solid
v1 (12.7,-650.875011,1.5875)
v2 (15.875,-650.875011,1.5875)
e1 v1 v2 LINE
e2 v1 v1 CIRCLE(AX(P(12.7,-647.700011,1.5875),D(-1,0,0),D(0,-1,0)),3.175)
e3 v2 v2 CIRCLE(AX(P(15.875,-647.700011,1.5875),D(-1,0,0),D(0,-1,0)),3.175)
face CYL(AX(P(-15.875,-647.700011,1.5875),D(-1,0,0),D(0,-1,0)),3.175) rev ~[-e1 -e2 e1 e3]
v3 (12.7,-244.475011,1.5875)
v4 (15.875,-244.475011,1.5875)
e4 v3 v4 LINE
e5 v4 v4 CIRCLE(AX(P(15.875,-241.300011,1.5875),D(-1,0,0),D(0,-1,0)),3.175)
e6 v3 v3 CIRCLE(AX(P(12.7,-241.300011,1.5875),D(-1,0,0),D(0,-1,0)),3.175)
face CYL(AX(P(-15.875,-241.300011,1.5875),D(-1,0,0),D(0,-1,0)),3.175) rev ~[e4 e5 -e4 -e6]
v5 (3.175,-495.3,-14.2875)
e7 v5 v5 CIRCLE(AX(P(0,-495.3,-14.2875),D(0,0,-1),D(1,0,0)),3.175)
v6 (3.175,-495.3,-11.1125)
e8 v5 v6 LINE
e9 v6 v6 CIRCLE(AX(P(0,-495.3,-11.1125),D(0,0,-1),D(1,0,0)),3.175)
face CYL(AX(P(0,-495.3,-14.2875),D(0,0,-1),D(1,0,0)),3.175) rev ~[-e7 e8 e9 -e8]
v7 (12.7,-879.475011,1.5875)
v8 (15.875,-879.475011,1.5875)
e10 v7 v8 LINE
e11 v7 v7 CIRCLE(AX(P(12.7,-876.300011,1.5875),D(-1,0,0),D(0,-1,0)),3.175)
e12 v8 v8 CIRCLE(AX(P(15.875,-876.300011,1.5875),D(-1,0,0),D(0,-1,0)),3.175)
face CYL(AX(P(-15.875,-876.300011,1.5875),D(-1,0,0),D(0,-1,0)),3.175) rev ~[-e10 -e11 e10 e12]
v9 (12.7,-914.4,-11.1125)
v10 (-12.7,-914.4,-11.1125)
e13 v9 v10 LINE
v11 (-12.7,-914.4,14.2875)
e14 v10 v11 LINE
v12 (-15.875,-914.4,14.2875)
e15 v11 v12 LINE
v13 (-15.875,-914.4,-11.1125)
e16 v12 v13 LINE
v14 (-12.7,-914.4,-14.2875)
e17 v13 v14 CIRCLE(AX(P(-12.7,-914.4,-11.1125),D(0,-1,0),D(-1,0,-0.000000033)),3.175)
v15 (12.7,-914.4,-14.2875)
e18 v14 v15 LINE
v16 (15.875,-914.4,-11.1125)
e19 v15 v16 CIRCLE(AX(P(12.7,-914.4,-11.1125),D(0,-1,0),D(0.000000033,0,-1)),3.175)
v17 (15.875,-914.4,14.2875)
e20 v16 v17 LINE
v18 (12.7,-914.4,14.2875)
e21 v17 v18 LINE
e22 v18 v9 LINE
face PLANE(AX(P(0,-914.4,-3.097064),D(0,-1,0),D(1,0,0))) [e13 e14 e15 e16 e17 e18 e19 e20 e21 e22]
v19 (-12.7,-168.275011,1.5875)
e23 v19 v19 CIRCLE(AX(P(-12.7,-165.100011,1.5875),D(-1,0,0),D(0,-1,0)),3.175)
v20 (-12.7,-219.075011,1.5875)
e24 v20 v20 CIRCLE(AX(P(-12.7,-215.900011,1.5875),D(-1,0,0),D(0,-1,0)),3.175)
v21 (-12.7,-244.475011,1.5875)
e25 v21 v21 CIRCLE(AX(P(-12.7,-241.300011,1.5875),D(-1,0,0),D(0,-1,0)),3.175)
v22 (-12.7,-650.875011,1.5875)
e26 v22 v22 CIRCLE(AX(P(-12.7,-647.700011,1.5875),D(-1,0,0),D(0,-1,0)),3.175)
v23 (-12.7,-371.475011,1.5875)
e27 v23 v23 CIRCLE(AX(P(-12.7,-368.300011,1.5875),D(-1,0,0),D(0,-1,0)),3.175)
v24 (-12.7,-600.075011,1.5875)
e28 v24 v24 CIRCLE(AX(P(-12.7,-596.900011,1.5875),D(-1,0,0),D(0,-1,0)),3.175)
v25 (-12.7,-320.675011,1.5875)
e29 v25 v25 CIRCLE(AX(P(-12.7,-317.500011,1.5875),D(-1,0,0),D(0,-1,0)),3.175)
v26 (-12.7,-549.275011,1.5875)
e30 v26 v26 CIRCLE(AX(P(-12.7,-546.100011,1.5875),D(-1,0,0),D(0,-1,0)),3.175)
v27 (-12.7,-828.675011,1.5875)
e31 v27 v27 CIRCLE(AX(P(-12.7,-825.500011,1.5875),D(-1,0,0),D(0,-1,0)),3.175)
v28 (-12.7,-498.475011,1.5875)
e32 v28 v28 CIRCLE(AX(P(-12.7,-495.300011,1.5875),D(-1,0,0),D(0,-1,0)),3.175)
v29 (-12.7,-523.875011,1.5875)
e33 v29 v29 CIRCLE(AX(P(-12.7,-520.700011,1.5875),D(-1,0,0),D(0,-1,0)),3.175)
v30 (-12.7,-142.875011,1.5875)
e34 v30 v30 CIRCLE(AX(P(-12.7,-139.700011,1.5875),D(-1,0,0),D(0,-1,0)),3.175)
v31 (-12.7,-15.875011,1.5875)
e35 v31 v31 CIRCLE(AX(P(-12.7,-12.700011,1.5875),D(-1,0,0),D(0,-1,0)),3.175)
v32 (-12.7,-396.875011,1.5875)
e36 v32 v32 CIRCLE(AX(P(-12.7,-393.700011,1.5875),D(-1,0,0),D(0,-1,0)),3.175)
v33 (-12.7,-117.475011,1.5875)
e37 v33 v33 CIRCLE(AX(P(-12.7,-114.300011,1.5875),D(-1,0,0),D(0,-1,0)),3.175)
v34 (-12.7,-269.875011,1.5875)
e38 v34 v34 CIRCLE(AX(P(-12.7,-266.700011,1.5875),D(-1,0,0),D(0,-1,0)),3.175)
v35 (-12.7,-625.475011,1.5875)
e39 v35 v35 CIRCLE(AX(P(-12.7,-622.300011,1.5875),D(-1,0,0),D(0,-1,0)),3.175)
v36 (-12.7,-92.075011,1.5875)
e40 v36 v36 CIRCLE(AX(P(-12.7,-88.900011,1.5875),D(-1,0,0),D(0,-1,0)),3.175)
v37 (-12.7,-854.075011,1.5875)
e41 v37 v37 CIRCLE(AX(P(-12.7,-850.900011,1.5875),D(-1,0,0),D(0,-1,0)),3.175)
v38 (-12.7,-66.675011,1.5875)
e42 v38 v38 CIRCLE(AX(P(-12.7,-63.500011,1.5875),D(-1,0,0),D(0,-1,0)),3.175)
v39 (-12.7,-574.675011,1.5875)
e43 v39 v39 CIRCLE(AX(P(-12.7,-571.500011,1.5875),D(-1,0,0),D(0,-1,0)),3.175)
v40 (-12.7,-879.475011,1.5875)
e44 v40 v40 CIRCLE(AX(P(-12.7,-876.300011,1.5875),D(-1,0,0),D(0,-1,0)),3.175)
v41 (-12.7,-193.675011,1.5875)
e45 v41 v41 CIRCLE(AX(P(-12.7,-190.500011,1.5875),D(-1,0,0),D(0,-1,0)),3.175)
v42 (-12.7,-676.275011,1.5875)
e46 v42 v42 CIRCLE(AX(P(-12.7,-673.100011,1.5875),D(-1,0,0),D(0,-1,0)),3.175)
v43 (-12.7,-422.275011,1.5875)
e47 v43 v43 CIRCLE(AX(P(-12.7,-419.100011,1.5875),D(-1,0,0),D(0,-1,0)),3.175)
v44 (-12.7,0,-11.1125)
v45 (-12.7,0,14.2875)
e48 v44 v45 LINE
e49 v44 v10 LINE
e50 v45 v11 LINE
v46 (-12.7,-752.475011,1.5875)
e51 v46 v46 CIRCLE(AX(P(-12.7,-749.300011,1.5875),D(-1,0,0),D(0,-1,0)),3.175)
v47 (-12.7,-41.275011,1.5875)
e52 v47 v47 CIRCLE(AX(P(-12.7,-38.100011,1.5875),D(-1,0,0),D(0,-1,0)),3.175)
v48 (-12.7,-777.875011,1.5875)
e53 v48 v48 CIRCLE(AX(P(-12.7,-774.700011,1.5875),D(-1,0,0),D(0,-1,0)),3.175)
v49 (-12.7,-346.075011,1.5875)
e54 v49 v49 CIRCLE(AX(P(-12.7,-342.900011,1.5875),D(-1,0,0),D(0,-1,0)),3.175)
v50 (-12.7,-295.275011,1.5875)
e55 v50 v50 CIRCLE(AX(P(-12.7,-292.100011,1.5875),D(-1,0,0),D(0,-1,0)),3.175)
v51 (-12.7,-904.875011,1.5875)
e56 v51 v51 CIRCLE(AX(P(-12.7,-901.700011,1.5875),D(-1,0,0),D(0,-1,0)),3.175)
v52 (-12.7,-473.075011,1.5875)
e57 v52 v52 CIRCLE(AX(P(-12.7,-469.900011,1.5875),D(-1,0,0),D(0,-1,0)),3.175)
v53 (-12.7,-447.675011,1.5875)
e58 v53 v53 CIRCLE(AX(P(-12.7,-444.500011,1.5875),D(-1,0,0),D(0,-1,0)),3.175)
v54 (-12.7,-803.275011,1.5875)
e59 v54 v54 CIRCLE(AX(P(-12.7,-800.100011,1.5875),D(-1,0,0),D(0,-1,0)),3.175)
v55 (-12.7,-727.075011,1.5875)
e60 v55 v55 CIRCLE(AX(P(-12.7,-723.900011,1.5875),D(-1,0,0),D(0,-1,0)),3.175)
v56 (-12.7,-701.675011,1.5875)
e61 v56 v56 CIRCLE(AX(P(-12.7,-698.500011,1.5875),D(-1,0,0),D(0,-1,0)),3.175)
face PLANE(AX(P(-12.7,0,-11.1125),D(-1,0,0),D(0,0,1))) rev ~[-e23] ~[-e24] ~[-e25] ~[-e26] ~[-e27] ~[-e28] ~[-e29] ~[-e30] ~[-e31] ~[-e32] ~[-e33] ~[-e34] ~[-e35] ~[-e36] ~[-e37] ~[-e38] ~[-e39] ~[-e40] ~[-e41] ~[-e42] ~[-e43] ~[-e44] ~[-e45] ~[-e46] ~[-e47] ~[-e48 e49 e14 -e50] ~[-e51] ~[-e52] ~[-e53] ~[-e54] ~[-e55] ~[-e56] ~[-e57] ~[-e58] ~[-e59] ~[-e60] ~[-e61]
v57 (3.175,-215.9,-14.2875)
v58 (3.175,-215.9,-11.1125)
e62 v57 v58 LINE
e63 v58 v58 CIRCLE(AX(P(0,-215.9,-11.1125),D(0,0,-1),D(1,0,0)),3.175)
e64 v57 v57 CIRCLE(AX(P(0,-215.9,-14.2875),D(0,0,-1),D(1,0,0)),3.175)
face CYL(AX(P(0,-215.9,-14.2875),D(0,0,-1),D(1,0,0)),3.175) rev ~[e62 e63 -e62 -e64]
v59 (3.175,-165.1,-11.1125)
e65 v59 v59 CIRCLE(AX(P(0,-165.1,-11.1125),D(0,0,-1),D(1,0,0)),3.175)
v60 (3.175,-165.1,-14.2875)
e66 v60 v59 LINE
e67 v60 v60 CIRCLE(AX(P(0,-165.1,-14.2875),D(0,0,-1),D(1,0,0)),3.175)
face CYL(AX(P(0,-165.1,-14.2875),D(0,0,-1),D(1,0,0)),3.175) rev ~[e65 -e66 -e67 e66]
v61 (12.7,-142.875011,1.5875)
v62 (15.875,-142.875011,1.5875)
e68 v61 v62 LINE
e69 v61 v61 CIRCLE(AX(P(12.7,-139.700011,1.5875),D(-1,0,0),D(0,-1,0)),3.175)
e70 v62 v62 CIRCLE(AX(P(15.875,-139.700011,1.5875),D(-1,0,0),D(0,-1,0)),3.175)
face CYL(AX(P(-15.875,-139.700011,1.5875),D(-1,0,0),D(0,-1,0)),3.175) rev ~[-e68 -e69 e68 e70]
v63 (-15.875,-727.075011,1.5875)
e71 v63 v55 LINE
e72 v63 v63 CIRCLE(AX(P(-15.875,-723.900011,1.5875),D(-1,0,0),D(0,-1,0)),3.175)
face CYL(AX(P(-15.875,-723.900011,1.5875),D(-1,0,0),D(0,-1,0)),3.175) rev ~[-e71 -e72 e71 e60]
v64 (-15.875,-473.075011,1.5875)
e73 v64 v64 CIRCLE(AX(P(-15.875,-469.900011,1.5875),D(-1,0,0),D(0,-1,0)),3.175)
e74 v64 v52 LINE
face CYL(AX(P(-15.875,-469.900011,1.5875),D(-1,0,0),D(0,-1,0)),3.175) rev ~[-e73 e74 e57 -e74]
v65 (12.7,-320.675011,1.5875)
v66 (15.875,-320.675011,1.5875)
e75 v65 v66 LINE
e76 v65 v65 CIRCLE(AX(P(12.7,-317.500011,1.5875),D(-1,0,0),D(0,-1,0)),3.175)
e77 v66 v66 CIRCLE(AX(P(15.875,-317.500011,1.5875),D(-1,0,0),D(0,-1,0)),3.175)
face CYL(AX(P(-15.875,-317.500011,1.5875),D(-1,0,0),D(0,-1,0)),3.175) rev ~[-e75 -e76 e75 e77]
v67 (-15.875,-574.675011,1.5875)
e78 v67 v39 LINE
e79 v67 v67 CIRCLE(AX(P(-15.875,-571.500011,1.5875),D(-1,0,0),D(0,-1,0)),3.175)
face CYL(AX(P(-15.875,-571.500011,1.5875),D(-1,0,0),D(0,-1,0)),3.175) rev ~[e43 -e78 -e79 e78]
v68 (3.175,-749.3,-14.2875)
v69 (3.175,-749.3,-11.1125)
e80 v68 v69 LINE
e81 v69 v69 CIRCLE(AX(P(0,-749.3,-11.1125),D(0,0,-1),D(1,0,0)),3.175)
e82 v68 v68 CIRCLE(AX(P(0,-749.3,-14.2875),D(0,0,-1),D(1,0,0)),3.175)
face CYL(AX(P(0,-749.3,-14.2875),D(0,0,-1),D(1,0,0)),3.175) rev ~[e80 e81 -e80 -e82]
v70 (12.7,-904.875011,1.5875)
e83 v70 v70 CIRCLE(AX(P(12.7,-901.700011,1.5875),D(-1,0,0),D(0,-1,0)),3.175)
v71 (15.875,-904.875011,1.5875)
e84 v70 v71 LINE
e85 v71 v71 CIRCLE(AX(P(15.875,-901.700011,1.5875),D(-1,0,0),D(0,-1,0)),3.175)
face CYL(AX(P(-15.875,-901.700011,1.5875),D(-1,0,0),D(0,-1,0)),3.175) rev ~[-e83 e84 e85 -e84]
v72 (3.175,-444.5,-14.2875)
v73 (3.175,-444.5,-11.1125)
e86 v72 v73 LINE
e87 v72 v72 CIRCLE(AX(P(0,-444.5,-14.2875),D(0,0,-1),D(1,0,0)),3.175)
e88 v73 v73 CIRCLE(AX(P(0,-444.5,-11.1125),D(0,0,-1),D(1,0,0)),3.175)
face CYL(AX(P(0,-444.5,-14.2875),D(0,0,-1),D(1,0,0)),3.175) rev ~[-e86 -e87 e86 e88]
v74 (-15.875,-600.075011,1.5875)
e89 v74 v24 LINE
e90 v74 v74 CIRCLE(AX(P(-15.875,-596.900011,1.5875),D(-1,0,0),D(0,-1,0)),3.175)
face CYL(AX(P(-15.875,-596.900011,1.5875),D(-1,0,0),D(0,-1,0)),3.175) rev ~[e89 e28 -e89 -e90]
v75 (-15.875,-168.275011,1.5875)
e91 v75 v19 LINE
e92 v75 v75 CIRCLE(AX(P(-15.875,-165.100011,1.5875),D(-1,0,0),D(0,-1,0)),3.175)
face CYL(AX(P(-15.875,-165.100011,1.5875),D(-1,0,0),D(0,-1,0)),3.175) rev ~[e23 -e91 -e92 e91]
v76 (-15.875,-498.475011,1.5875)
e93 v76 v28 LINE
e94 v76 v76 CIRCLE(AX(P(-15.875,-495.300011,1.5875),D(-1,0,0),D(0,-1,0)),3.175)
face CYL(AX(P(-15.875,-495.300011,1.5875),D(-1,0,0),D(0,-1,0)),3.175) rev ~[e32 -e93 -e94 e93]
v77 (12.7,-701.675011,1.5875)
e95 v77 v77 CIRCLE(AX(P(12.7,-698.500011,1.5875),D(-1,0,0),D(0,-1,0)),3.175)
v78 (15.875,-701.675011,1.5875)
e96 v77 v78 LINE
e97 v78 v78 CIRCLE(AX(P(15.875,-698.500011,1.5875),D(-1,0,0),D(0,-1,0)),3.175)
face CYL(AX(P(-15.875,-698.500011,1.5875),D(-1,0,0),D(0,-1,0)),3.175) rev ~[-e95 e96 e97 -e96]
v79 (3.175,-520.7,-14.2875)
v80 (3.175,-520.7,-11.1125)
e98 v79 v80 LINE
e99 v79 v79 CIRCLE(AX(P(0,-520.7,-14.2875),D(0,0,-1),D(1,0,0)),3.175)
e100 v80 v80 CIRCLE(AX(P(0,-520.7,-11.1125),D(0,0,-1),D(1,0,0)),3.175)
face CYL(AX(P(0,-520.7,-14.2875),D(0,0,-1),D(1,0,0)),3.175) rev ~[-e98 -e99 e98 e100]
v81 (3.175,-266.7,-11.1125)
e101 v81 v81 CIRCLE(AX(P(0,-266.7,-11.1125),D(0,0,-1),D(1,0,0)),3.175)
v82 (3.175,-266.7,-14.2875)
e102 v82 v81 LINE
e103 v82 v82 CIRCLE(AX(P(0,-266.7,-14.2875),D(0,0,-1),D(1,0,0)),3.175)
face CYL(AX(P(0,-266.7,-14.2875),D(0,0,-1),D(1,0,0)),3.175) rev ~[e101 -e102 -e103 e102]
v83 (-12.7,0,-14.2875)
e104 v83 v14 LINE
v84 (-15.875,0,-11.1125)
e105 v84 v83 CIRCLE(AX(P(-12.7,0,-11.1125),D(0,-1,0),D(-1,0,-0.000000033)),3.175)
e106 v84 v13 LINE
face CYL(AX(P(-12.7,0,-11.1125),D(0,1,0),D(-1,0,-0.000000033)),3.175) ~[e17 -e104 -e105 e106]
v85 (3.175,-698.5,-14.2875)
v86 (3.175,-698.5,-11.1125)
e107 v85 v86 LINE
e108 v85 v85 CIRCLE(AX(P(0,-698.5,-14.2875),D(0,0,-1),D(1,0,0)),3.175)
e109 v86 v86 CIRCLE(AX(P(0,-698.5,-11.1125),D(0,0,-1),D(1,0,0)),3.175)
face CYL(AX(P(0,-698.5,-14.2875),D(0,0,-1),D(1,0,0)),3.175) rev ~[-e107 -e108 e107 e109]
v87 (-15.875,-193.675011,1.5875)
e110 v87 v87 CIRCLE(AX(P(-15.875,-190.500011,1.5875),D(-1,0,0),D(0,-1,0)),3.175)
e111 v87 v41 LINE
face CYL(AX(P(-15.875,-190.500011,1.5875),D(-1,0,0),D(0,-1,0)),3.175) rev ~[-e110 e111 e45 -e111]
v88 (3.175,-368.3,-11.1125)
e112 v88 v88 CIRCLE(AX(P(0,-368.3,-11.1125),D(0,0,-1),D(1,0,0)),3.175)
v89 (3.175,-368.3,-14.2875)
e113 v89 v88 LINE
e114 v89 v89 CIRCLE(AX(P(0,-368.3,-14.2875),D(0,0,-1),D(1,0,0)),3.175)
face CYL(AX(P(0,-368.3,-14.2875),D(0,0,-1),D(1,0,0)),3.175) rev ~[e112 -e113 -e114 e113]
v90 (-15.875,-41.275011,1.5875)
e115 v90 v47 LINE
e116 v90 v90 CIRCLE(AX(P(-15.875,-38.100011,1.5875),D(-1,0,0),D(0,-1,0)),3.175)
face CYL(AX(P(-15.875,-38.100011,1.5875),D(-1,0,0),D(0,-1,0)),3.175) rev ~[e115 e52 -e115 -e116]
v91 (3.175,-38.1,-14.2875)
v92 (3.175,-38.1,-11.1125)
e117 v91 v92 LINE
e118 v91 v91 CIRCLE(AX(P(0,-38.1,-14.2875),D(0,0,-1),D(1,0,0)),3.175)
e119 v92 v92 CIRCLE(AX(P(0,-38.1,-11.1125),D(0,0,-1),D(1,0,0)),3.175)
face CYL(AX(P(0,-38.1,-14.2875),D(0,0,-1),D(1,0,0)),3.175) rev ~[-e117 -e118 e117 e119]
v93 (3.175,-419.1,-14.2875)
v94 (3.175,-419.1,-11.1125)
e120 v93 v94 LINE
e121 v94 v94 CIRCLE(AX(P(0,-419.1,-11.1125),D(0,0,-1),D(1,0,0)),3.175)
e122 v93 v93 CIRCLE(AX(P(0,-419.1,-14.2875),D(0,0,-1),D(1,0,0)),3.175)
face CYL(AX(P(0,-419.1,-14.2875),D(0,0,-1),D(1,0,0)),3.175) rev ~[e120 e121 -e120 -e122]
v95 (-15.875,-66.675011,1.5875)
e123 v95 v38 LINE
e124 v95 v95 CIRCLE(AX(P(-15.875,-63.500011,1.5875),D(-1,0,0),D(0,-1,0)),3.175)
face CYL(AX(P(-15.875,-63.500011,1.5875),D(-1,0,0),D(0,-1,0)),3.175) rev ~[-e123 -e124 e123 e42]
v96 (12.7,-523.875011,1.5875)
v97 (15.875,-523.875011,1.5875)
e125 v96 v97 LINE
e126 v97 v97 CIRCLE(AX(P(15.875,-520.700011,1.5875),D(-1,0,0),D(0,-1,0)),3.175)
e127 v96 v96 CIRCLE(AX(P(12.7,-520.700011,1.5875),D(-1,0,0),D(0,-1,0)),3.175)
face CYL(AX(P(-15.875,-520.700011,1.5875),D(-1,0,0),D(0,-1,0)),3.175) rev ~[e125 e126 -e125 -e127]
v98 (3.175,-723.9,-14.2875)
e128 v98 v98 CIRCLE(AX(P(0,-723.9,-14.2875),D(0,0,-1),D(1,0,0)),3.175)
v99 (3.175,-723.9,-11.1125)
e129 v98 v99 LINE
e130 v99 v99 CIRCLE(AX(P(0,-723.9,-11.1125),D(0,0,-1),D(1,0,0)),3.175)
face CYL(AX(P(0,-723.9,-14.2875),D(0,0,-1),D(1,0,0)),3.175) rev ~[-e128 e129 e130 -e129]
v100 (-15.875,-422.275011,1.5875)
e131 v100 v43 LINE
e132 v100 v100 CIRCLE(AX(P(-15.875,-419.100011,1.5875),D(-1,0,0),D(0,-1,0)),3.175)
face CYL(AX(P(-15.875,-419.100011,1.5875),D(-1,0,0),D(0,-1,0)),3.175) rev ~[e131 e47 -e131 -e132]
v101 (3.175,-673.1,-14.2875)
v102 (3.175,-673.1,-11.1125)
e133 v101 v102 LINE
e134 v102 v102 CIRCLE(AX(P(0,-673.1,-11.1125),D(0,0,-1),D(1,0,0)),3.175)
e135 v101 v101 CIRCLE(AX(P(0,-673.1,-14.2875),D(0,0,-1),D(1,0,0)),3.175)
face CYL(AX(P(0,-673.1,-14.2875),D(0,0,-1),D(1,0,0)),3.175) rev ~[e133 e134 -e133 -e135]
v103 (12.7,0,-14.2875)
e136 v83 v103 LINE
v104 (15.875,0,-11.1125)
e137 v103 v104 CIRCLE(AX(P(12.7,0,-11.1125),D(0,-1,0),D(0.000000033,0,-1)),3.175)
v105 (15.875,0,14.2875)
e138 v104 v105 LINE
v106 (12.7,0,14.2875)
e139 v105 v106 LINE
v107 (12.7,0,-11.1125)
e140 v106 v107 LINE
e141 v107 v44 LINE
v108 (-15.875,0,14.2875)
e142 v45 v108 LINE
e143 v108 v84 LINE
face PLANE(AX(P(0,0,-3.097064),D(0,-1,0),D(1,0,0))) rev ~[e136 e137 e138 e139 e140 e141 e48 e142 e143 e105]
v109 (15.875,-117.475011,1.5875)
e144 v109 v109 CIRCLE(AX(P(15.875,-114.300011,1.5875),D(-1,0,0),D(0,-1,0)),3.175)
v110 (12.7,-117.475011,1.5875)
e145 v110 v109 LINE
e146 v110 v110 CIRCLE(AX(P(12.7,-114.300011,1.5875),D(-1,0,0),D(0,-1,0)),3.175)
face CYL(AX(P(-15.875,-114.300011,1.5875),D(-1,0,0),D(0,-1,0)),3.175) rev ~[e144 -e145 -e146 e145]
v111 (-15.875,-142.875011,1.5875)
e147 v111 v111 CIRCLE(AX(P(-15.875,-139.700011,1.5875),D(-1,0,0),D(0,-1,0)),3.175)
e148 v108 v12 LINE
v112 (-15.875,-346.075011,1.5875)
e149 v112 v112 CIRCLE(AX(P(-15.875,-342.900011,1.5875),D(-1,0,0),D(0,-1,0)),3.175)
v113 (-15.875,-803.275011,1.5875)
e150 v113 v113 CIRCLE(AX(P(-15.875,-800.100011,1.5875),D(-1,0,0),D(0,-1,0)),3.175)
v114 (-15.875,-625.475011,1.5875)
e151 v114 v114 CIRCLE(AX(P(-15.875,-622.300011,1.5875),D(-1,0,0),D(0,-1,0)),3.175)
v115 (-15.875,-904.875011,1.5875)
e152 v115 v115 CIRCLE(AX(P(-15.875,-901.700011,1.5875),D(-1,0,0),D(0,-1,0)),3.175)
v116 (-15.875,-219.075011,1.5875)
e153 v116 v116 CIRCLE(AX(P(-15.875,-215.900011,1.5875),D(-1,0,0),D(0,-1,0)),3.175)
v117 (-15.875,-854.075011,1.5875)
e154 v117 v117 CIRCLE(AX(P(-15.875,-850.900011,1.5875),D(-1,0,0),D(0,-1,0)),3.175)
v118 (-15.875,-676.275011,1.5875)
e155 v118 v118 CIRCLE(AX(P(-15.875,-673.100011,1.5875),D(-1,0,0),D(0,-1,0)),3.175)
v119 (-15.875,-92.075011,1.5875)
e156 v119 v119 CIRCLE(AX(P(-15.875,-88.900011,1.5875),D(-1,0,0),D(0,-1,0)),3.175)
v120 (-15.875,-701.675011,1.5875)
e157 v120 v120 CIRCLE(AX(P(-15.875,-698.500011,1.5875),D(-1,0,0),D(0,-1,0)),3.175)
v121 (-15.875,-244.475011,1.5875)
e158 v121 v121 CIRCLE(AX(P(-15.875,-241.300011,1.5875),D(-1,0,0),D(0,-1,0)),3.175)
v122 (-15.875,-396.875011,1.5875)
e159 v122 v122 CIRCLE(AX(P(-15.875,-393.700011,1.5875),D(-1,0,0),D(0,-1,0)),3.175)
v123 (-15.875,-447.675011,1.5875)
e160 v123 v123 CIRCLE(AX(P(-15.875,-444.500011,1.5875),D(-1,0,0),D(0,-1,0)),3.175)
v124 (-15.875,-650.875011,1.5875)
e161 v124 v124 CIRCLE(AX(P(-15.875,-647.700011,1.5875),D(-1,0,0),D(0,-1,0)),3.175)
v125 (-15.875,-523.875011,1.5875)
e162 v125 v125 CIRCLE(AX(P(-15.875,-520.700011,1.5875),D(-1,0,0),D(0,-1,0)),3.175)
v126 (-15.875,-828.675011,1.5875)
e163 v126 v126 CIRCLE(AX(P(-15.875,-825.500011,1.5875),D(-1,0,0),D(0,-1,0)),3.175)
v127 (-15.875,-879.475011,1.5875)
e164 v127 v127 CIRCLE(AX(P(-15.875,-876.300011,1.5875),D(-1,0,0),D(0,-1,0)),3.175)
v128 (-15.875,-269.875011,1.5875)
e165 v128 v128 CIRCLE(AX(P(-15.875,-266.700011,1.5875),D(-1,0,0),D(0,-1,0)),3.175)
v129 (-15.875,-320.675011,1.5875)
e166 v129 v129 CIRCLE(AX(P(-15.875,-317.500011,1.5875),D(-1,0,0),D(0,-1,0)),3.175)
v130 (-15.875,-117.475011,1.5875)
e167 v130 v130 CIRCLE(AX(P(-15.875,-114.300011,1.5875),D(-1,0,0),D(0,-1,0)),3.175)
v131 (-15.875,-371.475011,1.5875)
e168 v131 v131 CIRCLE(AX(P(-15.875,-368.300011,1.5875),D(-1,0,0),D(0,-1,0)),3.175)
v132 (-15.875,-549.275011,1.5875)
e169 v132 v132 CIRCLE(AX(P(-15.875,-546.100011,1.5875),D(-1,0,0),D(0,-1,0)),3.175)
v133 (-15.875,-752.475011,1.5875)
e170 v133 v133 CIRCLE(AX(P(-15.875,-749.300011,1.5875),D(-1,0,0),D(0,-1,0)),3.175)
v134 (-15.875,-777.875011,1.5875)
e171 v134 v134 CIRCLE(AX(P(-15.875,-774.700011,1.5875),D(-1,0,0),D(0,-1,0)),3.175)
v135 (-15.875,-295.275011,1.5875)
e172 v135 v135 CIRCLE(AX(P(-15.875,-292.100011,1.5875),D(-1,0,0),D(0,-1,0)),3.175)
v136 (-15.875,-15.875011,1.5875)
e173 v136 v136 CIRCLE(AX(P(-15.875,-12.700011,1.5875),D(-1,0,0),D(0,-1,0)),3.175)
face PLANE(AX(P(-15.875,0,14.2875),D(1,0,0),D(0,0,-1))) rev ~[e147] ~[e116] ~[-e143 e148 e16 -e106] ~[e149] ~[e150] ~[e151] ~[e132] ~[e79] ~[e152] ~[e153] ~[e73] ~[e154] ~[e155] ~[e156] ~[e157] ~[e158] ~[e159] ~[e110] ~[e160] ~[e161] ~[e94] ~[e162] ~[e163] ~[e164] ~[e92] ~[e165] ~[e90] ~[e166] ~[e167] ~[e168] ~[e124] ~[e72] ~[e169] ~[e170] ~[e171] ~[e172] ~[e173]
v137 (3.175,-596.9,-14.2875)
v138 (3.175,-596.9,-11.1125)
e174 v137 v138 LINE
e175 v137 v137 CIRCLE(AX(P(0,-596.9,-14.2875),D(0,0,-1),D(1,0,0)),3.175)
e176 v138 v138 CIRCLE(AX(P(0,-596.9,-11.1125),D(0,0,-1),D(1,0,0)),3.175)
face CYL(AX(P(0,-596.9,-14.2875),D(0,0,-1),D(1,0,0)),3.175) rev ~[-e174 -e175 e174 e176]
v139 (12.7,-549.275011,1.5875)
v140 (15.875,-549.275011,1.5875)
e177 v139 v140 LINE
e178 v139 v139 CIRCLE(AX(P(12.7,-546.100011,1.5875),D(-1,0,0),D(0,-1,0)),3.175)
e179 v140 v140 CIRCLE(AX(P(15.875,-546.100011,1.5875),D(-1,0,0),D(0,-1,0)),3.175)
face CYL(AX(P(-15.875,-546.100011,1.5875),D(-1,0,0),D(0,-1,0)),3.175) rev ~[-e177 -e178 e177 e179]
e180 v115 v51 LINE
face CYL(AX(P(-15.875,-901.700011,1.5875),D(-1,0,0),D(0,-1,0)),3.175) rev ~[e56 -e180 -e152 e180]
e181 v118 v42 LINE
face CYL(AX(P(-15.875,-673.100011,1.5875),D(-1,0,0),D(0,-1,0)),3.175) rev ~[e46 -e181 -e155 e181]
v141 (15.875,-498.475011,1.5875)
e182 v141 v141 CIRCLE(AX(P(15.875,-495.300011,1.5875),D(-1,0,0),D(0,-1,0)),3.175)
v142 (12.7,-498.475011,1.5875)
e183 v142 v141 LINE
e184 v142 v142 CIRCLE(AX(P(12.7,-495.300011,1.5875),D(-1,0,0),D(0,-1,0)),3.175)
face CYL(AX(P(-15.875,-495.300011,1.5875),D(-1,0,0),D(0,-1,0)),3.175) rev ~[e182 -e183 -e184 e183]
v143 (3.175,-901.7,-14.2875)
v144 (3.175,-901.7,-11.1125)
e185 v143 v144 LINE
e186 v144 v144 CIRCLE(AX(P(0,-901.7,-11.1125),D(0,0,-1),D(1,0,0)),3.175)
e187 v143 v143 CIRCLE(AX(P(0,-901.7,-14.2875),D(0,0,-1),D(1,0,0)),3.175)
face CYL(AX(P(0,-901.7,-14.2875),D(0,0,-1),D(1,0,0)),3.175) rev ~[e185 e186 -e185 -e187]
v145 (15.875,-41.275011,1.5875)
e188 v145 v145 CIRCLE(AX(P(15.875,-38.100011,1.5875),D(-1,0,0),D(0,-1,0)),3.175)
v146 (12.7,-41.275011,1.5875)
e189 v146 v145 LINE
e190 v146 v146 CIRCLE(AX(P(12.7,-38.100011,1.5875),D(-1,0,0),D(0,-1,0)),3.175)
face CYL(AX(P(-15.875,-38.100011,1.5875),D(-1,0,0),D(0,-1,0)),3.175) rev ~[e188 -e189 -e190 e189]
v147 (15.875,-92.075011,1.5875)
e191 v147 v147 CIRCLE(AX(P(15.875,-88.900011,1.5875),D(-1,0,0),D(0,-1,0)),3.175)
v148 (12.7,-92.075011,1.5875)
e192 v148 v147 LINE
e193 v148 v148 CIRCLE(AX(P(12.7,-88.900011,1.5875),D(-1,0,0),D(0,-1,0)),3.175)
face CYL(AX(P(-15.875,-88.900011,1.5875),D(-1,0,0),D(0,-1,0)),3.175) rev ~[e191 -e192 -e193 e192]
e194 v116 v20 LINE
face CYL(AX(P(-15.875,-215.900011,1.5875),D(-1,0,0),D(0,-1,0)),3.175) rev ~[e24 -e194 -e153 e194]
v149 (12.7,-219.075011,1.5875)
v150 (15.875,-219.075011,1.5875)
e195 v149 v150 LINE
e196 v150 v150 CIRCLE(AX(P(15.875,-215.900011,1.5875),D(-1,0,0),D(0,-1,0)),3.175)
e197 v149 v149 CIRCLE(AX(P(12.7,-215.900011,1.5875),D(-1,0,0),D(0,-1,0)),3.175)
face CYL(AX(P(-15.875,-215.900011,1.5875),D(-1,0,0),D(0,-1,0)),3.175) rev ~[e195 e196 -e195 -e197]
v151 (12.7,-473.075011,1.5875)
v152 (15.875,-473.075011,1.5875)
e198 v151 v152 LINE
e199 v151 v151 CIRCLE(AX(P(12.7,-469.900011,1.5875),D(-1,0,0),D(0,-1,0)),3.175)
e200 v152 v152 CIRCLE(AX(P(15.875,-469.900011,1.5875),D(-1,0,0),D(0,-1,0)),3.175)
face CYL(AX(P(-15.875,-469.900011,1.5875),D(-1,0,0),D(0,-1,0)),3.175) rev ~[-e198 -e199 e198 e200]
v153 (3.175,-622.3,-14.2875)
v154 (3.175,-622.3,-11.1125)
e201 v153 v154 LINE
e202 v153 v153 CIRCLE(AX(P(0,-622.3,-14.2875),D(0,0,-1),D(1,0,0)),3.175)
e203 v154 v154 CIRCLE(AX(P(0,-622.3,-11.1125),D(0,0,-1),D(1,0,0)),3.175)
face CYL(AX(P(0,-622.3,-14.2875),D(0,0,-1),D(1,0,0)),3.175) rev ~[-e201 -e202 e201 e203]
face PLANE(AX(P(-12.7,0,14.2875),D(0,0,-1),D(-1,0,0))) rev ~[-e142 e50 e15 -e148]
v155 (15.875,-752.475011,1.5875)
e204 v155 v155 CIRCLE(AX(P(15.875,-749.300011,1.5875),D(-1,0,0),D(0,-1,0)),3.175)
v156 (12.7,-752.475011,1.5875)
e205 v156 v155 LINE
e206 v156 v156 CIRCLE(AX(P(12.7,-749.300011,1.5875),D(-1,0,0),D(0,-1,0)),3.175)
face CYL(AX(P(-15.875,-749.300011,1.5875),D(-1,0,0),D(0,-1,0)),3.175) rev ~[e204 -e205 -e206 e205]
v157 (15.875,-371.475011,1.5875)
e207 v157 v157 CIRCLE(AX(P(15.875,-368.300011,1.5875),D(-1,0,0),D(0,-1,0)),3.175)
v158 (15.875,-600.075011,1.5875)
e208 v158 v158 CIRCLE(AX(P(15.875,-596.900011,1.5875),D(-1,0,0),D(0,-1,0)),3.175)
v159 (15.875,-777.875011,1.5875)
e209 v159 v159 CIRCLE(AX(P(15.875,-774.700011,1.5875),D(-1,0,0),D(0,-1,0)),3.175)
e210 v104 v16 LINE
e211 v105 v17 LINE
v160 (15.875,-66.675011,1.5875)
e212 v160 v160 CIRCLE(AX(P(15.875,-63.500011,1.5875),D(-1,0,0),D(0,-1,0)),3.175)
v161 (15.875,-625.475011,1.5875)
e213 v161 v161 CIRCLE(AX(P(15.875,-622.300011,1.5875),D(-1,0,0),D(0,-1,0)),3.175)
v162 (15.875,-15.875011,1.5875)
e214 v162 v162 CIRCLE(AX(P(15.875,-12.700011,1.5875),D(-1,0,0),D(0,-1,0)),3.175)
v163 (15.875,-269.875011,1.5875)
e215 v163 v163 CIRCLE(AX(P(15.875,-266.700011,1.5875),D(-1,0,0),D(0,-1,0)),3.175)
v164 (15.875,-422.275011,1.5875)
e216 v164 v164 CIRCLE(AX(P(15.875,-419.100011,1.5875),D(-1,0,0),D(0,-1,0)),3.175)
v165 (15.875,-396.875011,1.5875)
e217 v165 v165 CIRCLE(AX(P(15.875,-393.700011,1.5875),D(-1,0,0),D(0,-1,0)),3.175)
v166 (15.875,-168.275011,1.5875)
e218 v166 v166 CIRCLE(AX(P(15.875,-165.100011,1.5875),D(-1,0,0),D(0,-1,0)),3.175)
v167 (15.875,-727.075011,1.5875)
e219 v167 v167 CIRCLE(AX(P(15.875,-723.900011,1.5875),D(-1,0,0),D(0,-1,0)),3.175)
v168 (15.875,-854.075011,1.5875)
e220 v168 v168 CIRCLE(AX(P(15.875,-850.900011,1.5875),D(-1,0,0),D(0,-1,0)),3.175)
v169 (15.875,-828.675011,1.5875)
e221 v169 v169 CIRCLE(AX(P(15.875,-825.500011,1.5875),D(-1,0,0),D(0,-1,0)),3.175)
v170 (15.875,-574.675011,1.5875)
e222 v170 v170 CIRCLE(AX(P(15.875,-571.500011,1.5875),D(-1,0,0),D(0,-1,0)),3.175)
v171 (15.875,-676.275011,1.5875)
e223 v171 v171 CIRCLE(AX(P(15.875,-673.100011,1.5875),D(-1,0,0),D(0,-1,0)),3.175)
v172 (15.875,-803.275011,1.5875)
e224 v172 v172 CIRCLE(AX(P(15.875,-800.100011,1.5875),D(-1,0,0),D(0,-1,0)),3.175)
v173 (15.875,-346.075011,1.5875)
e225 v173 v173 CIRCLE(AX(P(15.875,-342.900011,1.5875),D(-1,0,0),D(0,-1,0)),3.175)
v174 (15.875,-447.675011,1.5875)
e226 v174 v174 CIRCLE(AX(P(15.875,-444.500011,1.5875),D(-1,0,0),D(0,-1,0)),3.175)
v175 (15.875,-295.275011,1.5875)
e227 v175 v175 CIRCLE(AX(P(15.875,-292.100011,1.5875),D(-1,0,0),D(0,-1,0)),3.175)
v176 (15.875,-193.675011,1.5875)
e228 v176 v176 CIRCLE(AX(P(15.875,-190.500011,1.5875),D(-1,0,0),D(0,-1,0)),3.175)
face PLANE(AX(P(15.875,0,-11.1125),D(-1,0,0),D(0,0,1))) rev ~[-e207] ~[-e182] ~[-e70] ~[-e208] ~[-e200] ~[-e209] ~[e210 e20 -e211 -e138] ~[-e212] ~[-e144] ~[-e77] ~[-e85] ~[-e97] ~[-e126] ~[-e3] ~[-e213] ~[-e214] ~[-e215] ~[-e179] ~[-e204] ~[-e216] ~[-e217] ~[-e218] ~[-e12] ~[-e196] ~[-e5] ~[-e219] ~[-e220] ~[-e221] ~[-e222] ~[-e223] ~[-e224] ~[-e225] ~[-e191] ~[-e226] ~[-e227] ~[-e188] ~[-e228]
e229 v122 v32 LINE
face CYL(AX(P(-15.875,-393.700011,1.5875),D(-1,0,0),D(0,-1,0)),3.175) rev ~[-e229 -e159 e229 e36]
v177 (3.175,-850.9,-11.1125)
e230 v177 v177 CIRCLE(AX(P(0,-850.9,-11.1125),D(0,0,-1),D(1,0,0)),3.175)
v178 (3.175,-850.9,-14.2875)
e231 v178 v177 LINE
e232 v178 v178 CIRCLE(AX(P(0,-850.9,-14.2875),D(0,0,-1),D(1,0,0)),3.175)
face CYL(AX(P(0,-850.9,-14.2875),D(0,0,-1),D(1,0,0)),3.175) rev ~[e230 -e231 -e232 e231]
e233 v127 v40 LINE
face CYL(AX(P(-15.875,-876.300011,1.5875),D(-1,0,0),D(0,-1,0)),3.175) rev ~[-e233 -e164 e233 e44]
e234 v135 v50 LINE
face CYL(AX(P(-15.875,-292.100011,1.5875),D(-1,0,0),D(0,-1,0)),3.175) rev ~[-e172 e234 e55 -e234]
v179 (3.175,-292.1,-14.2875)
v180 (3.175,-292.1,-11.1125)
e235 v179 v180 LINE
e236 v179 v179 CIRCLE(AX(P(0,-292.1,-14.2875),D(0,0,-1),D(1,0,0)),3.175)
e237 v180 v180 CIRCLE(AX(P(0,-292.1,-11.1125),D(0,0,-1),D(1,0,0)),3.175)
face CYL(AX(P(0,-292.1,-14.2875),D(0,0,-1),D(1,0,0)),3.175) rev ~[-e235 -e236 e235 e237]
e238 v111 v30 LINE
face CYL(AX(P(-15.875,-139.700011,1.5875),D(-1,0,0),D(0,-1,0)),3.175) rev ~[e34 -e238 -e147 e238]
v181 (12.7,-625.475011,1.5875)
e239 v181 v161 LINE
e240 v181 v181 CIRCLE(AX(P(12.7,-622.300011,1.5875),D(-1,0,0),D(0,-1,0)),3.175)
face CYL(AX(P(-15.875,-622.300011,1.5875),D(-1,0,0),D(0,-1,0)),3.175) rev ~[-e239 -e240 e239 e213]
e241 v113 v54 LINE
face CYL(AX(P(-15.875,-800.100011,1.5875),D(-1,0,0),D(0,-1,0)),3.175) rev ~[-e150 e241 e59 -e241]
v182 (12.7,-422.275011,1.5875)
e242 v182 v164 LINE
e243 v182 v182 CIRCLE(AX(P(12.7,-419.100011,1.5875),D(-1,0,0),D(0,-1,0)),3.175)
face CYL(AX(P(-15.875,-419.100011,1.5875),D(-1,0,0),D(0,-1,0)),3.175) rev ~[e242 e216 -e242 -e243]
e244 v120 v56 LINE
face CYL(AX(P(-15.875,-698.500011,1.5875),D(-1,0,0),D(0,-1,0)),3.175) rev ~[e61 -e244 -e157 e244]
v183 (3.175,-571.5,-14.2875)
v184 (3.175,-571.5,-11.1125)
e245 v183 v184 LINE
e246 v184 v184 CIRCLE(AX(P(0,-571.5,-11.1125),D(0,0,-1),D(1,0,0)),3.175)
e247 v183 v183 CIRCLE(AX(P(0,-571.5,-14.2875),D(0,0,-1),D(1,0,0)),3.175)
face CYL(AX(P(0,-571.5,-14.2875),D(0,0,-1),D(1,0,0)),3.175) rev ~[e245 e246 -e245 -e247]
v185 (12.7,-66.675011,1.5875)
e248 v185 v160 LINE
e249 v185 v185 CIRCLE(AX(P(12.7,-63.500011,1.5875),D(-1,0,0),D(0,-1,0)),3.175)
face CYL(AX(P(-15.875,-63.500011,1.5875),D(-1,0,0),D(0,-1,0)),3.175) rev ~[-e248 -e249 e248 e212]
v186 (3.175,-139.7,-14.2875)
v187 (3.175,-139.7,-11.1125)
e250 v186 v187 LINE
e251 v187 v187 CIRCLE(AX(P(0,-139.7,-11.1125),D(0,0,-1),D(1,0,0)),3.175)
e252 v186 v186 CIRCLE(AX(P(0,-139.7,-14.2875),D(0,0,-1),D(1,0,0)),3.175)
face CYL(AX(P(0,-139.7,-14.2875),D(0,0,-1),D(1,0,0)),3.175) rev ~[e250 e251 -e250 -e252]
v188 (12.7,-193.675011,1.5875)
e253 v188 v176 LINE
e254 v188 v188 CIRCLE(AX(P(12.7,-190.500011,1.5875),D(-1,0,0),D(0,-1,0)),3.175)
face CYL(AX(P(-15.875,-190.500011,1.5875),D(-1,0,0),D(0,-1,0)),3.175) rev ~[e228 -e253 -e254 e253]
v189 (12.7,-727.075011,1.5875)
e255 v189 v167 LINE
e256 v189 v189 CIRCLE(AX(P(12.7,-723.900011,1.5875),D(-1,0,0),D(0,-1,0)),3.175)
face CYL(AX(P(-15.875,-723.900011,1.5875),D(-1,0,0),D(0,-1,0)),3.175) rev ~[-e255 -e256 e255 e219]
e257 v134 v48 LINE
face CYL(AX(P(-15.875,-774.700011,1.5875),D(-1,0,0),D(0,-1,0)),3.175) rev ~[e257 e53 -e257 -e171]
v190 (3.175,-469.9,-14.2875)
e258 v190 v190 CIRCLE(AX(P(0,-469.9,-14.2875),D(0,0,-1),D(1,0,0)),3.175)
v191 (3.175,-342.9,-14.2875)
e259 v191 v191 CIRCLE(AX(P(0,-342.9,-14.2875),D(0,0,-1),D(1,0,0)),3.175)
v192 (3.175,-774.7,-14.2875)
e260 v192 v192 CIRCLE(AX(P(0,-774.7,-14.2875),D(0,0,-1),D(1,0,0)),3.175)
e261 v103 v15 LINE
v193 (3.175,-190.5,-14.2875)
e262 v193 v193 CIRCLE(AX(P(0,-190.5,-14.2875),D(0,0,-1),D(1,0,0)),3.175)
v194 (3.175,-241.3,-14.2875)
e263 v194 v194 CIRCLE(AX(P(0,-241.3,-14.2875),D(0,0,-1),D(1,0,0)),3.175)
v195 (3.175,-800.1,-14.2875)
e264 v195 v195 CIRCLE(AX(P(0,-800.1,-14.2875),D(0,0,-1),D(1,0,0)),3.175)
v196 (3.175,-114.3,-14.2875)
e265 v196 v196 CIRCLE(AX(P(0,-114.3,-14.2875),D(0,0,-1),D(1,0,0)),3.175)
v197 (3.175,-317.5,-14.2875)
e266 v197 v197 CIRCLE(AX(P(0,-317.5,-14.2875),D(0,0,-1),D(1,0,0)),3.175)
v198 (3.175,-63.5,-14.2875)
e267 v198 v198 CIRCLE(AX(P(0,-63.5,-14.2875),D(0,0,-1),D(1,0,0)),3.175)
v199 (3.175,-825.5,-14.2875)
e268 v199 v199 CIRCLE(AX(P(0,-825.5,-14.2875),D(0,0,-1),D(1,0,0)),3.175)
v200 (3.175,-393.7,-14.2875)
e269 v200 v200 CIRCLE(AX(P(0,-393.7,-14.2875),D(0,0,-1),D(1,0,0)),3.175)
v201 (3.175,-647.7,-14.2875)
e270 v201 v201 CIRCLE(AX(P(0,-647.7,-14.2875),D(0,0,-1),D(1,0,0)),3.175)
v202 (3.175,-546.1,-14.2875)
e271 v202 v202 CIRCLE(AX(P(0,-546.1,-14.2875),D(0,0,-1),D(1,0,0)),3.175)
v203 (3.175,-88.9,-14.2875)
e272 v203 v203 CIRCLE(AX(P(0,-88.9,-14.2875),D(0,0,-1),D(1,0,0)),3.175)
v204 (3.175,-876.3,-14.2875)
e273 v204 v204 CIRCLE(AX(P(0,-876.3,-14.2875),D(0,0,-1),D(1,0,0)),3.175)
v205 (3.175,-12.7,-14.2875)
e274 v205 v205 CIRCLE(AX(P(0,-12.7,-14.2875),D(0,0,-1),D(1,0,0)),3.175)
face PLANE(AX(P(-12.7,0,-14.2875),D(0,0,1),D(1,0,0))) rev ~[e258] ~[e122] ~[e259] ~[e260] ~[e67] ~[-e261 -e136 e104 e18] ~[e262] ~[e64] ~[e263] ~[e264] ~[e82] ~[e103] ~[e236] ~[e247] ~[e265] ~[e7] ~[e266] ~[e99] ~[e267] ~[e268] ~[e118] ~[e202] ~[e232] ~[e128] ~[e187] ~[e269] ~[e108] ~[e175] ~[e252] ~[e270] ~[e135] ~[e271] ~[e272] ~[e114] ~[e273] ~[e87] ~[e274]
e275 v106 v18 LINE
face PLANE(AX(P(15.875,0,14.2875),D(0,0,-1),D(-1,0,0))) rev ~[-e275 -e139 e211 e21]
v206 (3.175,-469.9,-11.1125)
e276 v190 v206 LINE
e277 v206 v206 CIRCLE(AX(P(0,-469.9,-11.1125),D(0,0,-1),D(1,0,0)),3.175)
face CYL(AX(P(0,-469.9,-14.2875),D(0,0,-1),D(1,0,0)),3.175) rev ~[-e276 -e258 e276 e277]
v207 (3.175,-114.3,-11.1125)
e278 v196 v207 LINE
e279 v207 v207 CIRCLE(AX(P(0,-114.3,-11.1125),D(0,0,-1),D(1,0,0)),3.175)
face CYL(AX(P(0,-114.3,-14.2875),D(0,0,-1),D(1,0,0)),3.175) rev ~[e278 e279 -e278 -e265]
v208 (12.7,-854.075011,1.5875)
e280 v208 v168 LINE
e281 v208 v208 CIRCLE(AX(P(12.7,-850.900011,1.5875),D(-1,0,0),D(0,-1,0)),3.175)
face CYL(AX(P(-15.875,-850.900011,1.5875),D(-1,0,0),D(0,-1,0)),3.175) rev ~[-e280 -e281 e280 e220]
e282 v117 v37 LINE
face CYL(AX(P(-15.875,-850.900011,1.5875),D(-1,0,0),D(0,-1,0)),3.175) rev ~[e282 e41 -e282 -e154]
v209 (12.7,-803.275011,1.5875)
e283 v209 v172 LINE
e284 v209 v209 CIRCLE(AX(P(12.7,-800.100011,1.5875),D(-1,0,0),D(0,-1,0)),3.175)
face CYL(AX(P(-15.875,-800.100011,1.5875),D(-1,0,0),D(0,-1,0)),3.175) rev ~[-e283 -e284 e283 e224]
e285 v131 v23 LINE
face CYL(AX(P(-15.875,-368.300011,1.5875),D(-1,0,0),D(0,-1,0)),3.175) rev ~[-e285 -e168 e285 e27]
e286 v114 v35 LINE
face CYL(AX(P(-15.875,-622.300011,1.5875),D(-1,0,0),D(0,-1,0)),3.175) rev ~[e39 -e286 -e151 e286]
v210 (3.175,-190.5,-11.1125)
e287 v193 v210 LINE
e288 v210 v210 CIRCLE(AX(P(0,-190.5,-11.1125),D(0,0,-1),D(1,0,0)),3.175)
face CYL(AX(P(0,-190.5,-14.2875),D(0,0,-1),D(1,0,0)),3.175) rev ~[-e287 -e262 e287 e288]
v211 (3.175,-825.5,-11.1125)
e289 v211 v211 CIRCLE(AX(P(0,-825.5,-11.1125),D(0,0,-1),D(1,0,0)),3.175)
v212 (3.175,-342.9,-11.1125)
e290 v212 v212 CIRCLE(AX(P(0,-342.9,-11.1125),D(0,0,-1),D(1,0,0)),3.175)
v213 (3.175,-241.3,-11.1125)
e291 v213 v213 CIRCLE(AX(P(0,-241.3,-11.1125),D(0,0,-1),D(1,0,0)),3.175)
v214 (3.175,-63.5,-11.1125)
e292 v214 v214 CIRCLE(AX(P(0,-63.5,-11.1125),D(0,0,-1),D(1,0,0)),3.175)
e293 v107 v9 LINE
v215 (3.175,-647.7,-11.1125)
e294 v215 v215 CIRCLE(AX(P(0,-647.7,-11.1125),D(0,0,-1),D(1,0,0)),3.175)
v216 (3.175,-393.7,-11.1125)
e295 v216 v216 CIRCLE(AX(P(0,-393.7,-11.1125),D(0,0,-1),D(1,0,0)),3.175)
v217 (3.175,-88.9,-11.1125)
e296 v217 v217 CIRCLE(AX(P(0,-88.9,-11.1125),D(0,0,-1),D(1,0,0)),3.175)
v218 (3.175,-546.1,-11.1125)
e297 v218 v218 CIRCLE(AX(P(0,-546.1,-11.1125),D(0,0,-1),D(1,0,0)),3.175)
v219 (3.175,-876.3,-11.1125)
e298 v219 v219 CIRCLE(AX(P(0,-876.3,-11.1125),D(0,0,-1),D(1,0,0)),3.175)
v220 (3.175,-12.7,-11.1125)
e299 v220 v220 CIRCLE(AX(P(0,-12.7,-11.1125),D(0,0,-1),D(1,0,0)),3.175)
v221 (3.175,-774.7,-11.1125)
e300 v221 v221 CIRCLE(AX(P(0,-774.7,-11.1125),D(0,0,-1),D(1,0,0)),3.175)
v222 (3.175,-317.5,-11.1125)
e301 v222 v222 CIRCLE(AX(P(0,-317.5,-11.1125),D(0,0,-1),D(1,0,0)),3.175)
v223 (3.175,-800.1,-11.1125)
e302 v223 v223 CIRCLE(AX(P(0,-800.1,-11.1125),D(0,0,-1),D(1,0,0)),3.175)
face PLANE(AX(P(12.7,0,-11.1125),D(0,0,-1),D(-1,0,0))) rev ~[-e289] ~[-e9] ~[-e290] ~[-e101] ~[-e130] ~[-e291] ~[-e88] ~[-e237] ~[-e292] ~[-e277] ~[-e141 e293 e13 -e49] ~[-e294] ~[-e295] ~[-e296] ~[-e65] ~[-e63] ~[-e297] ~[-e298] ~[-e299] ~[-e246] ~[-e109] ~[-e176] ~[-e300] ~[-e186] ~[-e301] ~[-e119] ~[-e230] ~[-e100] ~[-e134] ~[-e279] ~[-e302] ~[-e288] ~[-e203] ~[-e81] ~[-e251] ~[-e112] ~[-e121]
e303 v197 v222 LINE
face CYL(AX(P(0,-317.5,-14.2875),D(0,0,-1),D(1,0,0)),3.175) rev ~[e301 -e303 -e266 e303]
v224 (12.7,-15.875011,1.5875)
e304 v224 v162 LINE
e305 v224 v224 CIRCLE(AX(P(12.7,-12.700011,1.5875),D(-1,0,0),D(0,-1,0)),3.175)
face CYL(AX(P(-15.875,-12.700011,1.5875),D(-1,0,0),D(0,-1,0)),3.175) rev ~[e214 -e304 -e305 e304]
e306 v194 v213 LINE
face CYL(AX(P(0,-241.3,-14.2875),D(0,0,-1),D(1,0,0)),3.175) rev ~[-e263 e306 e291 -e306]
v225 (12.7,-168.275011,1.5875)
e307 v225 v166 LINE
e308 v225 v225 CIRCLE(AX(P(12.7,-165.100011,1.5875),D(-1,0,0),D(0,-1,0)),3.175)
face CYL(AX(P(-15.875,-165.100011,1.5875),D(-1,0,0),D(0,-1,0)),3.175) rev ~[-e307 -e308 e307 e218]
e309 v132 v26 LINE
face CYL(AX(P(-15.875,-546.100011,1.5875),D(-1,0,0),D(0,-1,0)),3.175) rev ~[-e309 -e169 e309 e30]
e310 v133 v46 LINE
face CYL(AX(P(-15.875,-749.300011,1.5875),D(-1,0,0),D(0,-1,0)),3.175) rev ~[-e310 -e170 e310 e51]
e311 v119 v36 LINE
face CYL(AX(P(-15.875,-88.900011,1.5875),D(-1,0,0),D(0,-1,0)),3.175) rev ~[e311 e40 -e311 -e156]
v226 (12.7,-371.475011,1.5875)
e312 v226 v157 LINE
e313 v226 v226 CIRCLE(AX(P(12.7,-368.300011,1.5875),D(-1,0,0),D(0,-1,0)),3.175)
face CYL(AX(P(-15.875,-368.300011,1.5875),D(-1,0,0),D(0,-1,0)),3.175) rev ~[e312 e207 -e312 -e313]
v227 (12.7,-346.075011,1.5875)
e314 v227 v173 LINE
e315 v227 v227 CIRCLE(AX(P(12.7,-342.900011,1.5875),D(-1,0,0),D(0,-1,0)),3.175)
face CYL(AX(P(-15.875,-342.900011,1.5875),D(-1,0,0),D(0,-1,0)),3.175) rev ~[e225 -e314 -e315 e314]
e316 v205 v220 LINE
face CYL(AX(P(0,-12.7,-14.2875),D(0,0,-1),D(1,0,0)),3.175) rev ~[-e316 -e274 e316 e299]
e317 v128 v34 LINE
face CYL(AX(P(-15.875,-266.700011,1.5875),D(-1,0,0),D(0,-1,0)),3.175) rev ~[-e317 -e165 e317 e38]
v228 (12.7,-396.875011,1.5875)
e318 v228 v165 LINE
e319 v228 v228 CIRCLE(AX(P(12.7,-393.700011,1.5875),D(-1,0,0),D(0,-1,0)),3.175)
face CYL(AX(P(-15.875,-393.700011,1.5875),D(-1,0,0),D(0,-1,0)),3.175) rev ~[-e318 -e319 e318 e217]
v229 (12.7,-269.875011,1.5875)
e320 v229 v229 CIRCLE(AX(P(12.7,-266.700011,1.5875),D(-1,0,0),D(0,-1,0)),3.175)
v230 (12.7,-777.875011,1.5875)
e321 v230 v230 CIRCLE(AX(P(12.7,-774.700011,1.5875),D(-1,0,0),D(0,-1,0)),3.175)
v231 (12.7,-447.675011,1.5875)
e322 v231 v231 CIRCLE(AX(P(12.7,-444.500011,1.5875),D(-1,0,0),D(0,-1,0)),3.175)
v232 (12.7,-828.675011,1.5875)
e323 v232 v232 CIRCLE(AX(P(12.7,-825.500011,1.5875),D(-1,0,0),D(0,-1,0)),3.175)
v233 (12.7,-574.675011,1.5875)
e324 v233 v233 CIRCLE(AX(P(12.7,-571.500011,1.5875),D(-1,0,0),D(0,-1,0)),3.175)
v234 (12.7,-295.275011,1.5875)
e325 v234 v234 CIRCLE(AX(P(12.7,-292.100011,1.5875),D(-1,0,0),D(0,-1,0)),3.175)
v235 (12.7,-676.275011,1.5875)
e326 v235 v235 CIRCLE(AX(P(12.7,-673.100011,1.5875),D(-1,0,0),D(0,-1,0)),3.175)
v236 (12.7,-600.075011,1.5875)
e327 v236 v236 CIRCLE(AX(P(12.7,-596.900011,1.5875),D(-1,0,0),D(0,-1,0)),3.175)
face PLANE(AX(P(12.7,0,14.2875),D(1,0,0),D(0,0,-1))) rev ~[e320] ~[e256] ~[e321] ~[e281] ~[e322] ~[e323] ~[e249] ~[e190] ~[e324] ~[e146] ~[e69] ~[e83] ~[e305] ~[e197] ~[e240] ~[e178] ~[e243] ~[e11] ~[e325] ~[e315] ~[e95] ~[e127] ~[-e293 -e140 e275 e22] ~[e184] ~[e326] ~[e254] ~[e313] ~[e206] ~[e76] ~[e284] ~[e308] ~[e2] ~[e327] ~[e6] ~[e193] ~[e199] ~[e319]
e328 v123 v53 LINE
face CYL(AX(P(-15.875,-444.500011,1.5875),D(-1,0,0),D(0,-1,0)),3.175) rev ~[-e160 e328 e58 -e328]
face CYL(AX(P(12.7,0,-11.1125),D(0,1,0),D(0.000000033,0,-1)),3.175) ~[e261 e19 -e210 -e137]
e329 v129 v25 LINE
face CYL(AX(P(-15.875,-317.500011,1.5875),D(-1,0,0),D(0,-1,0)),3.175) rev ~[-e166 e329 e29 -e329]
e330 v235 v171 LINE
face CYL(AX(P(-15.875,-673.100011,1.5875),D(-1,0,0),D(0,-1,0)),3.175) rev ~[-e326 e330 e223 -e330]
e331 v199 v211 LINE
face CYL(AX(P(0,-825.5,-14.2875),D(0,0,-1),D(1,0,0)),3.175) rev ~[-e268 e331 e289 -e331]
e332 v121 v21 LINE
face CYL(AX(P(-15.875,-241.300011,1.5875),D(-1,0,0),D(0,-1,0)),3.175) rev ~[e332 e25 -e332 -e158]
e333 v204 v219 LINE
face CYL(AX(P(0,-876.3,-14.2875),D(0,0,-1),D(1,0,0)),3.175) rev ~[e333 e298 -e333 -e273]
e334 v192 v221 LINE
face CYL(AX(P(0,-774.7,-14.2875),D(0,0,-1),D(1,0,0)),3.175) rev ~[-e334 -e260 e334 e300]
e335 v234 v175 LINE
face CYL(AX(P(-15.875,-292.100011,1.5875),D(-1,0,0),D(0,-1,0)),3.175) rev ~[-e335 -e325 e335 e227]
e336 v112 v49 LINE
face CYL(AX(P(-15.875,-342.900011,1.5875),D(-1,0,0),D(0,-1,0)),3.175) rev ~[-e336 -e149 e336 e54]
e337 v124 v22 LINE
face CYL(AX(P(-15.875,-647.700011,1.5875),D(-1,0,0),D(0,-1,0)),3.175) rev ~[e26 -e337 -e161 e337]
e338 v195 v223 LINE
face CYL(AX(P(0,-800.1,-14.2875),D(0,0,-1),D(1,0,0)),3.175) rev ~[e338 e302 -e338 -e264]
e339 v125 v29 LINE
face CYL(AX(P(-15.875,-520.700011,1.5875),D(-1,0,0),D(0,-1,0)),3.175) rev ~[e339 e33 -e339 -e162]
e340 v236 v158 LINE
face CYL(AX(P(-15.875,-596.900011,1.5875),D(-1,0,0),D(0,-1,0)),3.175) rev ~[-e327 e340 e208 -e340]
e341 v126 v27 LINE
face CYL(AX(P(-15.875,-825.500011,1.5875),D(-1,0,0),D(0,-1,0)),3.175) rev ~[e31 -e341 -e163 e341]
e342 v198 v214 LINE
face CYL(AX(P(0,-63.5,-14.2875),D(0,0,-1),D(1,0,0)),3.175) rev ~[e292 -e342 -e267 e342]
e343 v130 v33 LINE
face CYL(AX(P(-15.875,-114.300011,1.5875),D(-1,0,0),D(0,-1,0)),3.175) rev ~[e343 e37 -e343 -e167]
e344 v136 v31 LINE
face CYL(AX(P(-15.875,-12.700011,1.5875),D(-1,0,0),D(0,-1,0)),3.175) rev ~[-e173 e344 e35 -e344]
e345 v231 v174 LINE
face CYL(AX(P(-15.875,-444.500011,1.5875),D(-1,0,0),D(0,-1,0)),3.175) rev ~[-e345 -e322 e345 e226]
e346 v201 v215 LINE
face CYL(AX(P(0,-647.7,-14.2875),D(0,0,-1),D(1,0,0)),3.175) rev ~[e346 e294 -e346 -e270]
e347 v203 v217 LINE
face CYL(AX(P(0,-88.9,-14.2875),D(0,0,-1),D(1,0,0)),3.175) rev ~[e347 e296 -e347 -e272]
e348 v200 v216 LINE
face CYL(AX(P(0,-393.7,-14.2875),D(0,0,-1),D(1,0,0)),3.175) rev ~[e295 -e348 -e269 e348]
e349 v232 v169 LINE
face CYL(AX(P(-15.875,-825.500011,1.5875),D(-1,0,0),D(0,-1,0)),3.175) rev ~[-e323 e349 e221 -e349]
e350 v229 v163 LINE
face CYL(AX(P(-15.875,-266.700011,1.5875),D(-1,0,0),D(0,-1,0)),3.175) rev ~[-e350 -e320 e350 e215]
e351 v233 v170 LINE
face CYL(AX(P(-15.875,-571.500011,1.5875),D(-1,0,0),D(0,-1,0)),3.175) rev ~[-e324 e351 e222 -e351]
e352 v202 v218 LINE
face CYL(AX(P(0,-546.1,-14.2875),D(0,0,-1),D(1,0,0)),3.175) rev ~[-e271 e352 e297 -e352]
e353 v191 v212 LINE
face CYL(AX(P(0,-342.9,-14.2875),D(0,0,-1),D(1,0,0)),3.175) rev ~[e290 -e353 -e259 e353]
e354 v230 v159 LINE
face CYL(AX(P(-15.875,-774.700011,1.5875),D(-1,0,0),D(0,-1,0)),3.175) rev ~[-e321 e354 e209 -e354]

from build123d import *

# Parameters (mm, degrees)
F1_DEPTH = 914.4
F2_R     = 3.175
F3_DEPTH = 28.576
F4_R     = 3.175
F5_DEPTH = 31.751


with BuildPart() as f1:
    # F0 (on Front) → F1 (new body)
    with BuildSketch(Plane.XZ):
        with BuildLine():
            Line((-12.7, -14.2875), (12.7, -14.2875))
            ThreePointArc((12.7, -14.2875), (14.945064, -13.357564), (15.875, -11.1125))
            Line((15.875, -11.1125), (15.875, 14.2875))
            Line((15.875, 14.2875), (12.7, 14.2875))
            Line((12.7, 14.2875), (12.7, -11.1125))
            Line((12.7, -11.1125), (-12.7, -11.1125))
            Line((-12.7, -11.1125), (-12.7, 14.2875))
            Line((-12.7, 14.2875), (-15.875, 14.2875))
            Line((-15.875, 14.2875), (-15.875, -11.1125))
            ThreePointArc((-15.875, -11.1125), (-14.945064, -13.357564), (-12.7, -14.2875))
        make_face()
    extrude(amount=F1_DEPTH)

    # F2 (on face) → F3 (cut, through all)
    with BuildSketch(Plane(origin=(0, 0, -14.2875), x_dir=(1, 0, 0), z_dir=(0, 0, -1))):
        with Locations((0, 12.7)):
            Circle(F2_R)
        with Locations((0, 38.1)):
            Circle(F2_R)
        with Locations((0, 63.5)):
            Circle(F2_R)
        with Locations((0, 88.9)):
            Circle(F2_R)
        with Locations((0, 114.3)):
            Circle(F2_R)
        with Locations((0, 139.7)):
            Circle(F2_R)
        with Locations((0, 165.1)):
            Circle(F2_R)
        with Locations((0, 190.5)):
            Circle(F2_R)
        with Locations((0, 215.9)):
            Circle(F2_R)
        with Locations((0, 241.3)):
            Circle(F2_R)
        with Locations((0, 266.7)):
            Circle(F2_R)
        with Locations((0, 292.1)):
            Circle(F2_R)
        with Locations((0, 317.5)):
            Circle(F2_R)
        with Locations((0, 342.9)):
            Circle(F2_R)
        with Locations((0, 368.3)):
            Circle(F2_R)
        with Locations((0, 393.7)):
            Circle(F2_R)
        with Locations((0, 419.1)):
            Circle(F2_R)
        with Locations((0, 444.5)):
            Circle(F2_R)
        with Locations((0, 469.9)):
            Circle(F2_R)
        with Locations((0, 495.3)):
            Circle(F2_R)
        with Locations((0, 520.7)):
            Circle(F2_R)
        with Locations((0, 546.1)):
            Circle(F2_R)
        with Locations((0, 571.5)):
            Circle(F2_R)
        with Locations((0, 596.9)):
            Circle(F2_R)
        with Locations((0, 622.3)):
            Circle(F2_R)
        with Locations((0, 647.7)):
            Circle(F2_R)
        with Locations((0, 673.1)):
            Circle(F2_R)
        with Locations((0, 698.5)):
            Circle(F2_R)
        with Locations((0, 723.9)):
            Circle(F2_R)
        with Locations((0, 749.3)):
            Circle(F2_R)
        with Locations((0, 774.7)):
            Circle(F2_R)
        with Locations((0, 800.1)):
            Circle(F2_R)
        with Locations((0, 825.5)):
            Circle(F2_R)
        with Locations((0, 850.9)):
            Circle(F2_R)
        with Locations((0, 876.3)):
            Circle(F2_R)
        with Locations((0, 901.7)):
            Circle(F2_R)
    extrude(amount=-F3_DEPTH, mode=Mode.SUBTRACT)

    # F4 (on face) → F5 (cut, through all)
    with BuildSketch(Plane(origin=(-15.875, 0, 0), x_dir=(0, -1, 0), z_dir=(-1, 0, 0))):
        with Locations((12.700011, 1.5875)):
            Circle(F4_R)
        with Locations((38.100011, 1.5875)):
            Circle(F4_R)
        with Locations((63.500011, 1.5875)):
            Circle(F4_R)
        with Locations((88.900011, 1.5875)):
            Circle(F4_R)
        with Locations((114.300011, 1.5875)):
            Circle(F4_R)
        with Locations((139.700011, 1.5875)):
            Circle(F4_R)
        with Locations((165.100011, 1.5875)):
            Circle(F4_R)
        with Locations((190.500011, 1.5875)):
            Circle(F4_R)
        with Locations((215.900011, 1.5875)):
            Circle(F4_R)
        with Locations((241.300011, 1.5875)):
            Circle(F4_R)
        with Locations((266.700011, 1.5875)):
            Circle(F4_R)
        with Locations((292.100011, 1.5875)):
            Circle(F4_R)
        with Locations((317.500011, 1.5875)):
            Circle(F4_R)
        with Locations((342.900011, 1.5875)):
            Circle(F4_R)
        with Locations((368.300011, 1.5875)):
            Circle(F4_R)
        with Locations((393.700011, 1.5875)):
            Circle(F4_R)
        with Locations((419.100011, 1.5875)):
            Circle(F4_R)
        with Locations((444.500011, 1.5875)):
            Circle(F4_R)
        with Locations((469.900011, 1.5875)):
            Circle(F4_R)
        with Locations((495.300011, 1.5875)):
            Circle(F4_R)
        with Locations((520.700011, 1.5875)):
            Circle(F4_R)
        with Locations((546.100011, 1.5875)):
            Circle(F4_R)
        with Locations((571.500011, 1.5875)):
            Circle(F4_R)
        with Locations((596.900011, 1.5875)):
            Circle(F4_R)
        with Locations((622.300011, 1.5875)):
            Circle(F4_R)
        with Locations((647.700011, 1.5875)):
            Circle(F4_R)
        with Locations((673.100011, 1.5875)):
            Circle(F4_R)
        with Locations((698.500011, 1.5875)):
            Circle(F4_R)
        with Locations((723.900011, 1.5875)):
            Circle(F4_R)
        with Locations((749.300011, 1.5875)):
            Circle(F4_R)
        with Locations((774.700011, 1.5875)):
            Circle(F4_R)
        with Locations((800.100011, 1.5875)):
            Circle(F4_R)
        with Locations((825.500011, 1.5875)):
            Circle(F4_R)
        with Locations((850.900011, 1.5875)):
            Circle(F4_R)
        with Locations((876.300011, 1.5875)):
            Circle(F4_R)
        with Locations((901.700011, 1.5875)):
            Circle(F4_R)
    extrude(amount=-F5_DEPTH, mode=Mode.SUBTRACT)


solid = f1.part
